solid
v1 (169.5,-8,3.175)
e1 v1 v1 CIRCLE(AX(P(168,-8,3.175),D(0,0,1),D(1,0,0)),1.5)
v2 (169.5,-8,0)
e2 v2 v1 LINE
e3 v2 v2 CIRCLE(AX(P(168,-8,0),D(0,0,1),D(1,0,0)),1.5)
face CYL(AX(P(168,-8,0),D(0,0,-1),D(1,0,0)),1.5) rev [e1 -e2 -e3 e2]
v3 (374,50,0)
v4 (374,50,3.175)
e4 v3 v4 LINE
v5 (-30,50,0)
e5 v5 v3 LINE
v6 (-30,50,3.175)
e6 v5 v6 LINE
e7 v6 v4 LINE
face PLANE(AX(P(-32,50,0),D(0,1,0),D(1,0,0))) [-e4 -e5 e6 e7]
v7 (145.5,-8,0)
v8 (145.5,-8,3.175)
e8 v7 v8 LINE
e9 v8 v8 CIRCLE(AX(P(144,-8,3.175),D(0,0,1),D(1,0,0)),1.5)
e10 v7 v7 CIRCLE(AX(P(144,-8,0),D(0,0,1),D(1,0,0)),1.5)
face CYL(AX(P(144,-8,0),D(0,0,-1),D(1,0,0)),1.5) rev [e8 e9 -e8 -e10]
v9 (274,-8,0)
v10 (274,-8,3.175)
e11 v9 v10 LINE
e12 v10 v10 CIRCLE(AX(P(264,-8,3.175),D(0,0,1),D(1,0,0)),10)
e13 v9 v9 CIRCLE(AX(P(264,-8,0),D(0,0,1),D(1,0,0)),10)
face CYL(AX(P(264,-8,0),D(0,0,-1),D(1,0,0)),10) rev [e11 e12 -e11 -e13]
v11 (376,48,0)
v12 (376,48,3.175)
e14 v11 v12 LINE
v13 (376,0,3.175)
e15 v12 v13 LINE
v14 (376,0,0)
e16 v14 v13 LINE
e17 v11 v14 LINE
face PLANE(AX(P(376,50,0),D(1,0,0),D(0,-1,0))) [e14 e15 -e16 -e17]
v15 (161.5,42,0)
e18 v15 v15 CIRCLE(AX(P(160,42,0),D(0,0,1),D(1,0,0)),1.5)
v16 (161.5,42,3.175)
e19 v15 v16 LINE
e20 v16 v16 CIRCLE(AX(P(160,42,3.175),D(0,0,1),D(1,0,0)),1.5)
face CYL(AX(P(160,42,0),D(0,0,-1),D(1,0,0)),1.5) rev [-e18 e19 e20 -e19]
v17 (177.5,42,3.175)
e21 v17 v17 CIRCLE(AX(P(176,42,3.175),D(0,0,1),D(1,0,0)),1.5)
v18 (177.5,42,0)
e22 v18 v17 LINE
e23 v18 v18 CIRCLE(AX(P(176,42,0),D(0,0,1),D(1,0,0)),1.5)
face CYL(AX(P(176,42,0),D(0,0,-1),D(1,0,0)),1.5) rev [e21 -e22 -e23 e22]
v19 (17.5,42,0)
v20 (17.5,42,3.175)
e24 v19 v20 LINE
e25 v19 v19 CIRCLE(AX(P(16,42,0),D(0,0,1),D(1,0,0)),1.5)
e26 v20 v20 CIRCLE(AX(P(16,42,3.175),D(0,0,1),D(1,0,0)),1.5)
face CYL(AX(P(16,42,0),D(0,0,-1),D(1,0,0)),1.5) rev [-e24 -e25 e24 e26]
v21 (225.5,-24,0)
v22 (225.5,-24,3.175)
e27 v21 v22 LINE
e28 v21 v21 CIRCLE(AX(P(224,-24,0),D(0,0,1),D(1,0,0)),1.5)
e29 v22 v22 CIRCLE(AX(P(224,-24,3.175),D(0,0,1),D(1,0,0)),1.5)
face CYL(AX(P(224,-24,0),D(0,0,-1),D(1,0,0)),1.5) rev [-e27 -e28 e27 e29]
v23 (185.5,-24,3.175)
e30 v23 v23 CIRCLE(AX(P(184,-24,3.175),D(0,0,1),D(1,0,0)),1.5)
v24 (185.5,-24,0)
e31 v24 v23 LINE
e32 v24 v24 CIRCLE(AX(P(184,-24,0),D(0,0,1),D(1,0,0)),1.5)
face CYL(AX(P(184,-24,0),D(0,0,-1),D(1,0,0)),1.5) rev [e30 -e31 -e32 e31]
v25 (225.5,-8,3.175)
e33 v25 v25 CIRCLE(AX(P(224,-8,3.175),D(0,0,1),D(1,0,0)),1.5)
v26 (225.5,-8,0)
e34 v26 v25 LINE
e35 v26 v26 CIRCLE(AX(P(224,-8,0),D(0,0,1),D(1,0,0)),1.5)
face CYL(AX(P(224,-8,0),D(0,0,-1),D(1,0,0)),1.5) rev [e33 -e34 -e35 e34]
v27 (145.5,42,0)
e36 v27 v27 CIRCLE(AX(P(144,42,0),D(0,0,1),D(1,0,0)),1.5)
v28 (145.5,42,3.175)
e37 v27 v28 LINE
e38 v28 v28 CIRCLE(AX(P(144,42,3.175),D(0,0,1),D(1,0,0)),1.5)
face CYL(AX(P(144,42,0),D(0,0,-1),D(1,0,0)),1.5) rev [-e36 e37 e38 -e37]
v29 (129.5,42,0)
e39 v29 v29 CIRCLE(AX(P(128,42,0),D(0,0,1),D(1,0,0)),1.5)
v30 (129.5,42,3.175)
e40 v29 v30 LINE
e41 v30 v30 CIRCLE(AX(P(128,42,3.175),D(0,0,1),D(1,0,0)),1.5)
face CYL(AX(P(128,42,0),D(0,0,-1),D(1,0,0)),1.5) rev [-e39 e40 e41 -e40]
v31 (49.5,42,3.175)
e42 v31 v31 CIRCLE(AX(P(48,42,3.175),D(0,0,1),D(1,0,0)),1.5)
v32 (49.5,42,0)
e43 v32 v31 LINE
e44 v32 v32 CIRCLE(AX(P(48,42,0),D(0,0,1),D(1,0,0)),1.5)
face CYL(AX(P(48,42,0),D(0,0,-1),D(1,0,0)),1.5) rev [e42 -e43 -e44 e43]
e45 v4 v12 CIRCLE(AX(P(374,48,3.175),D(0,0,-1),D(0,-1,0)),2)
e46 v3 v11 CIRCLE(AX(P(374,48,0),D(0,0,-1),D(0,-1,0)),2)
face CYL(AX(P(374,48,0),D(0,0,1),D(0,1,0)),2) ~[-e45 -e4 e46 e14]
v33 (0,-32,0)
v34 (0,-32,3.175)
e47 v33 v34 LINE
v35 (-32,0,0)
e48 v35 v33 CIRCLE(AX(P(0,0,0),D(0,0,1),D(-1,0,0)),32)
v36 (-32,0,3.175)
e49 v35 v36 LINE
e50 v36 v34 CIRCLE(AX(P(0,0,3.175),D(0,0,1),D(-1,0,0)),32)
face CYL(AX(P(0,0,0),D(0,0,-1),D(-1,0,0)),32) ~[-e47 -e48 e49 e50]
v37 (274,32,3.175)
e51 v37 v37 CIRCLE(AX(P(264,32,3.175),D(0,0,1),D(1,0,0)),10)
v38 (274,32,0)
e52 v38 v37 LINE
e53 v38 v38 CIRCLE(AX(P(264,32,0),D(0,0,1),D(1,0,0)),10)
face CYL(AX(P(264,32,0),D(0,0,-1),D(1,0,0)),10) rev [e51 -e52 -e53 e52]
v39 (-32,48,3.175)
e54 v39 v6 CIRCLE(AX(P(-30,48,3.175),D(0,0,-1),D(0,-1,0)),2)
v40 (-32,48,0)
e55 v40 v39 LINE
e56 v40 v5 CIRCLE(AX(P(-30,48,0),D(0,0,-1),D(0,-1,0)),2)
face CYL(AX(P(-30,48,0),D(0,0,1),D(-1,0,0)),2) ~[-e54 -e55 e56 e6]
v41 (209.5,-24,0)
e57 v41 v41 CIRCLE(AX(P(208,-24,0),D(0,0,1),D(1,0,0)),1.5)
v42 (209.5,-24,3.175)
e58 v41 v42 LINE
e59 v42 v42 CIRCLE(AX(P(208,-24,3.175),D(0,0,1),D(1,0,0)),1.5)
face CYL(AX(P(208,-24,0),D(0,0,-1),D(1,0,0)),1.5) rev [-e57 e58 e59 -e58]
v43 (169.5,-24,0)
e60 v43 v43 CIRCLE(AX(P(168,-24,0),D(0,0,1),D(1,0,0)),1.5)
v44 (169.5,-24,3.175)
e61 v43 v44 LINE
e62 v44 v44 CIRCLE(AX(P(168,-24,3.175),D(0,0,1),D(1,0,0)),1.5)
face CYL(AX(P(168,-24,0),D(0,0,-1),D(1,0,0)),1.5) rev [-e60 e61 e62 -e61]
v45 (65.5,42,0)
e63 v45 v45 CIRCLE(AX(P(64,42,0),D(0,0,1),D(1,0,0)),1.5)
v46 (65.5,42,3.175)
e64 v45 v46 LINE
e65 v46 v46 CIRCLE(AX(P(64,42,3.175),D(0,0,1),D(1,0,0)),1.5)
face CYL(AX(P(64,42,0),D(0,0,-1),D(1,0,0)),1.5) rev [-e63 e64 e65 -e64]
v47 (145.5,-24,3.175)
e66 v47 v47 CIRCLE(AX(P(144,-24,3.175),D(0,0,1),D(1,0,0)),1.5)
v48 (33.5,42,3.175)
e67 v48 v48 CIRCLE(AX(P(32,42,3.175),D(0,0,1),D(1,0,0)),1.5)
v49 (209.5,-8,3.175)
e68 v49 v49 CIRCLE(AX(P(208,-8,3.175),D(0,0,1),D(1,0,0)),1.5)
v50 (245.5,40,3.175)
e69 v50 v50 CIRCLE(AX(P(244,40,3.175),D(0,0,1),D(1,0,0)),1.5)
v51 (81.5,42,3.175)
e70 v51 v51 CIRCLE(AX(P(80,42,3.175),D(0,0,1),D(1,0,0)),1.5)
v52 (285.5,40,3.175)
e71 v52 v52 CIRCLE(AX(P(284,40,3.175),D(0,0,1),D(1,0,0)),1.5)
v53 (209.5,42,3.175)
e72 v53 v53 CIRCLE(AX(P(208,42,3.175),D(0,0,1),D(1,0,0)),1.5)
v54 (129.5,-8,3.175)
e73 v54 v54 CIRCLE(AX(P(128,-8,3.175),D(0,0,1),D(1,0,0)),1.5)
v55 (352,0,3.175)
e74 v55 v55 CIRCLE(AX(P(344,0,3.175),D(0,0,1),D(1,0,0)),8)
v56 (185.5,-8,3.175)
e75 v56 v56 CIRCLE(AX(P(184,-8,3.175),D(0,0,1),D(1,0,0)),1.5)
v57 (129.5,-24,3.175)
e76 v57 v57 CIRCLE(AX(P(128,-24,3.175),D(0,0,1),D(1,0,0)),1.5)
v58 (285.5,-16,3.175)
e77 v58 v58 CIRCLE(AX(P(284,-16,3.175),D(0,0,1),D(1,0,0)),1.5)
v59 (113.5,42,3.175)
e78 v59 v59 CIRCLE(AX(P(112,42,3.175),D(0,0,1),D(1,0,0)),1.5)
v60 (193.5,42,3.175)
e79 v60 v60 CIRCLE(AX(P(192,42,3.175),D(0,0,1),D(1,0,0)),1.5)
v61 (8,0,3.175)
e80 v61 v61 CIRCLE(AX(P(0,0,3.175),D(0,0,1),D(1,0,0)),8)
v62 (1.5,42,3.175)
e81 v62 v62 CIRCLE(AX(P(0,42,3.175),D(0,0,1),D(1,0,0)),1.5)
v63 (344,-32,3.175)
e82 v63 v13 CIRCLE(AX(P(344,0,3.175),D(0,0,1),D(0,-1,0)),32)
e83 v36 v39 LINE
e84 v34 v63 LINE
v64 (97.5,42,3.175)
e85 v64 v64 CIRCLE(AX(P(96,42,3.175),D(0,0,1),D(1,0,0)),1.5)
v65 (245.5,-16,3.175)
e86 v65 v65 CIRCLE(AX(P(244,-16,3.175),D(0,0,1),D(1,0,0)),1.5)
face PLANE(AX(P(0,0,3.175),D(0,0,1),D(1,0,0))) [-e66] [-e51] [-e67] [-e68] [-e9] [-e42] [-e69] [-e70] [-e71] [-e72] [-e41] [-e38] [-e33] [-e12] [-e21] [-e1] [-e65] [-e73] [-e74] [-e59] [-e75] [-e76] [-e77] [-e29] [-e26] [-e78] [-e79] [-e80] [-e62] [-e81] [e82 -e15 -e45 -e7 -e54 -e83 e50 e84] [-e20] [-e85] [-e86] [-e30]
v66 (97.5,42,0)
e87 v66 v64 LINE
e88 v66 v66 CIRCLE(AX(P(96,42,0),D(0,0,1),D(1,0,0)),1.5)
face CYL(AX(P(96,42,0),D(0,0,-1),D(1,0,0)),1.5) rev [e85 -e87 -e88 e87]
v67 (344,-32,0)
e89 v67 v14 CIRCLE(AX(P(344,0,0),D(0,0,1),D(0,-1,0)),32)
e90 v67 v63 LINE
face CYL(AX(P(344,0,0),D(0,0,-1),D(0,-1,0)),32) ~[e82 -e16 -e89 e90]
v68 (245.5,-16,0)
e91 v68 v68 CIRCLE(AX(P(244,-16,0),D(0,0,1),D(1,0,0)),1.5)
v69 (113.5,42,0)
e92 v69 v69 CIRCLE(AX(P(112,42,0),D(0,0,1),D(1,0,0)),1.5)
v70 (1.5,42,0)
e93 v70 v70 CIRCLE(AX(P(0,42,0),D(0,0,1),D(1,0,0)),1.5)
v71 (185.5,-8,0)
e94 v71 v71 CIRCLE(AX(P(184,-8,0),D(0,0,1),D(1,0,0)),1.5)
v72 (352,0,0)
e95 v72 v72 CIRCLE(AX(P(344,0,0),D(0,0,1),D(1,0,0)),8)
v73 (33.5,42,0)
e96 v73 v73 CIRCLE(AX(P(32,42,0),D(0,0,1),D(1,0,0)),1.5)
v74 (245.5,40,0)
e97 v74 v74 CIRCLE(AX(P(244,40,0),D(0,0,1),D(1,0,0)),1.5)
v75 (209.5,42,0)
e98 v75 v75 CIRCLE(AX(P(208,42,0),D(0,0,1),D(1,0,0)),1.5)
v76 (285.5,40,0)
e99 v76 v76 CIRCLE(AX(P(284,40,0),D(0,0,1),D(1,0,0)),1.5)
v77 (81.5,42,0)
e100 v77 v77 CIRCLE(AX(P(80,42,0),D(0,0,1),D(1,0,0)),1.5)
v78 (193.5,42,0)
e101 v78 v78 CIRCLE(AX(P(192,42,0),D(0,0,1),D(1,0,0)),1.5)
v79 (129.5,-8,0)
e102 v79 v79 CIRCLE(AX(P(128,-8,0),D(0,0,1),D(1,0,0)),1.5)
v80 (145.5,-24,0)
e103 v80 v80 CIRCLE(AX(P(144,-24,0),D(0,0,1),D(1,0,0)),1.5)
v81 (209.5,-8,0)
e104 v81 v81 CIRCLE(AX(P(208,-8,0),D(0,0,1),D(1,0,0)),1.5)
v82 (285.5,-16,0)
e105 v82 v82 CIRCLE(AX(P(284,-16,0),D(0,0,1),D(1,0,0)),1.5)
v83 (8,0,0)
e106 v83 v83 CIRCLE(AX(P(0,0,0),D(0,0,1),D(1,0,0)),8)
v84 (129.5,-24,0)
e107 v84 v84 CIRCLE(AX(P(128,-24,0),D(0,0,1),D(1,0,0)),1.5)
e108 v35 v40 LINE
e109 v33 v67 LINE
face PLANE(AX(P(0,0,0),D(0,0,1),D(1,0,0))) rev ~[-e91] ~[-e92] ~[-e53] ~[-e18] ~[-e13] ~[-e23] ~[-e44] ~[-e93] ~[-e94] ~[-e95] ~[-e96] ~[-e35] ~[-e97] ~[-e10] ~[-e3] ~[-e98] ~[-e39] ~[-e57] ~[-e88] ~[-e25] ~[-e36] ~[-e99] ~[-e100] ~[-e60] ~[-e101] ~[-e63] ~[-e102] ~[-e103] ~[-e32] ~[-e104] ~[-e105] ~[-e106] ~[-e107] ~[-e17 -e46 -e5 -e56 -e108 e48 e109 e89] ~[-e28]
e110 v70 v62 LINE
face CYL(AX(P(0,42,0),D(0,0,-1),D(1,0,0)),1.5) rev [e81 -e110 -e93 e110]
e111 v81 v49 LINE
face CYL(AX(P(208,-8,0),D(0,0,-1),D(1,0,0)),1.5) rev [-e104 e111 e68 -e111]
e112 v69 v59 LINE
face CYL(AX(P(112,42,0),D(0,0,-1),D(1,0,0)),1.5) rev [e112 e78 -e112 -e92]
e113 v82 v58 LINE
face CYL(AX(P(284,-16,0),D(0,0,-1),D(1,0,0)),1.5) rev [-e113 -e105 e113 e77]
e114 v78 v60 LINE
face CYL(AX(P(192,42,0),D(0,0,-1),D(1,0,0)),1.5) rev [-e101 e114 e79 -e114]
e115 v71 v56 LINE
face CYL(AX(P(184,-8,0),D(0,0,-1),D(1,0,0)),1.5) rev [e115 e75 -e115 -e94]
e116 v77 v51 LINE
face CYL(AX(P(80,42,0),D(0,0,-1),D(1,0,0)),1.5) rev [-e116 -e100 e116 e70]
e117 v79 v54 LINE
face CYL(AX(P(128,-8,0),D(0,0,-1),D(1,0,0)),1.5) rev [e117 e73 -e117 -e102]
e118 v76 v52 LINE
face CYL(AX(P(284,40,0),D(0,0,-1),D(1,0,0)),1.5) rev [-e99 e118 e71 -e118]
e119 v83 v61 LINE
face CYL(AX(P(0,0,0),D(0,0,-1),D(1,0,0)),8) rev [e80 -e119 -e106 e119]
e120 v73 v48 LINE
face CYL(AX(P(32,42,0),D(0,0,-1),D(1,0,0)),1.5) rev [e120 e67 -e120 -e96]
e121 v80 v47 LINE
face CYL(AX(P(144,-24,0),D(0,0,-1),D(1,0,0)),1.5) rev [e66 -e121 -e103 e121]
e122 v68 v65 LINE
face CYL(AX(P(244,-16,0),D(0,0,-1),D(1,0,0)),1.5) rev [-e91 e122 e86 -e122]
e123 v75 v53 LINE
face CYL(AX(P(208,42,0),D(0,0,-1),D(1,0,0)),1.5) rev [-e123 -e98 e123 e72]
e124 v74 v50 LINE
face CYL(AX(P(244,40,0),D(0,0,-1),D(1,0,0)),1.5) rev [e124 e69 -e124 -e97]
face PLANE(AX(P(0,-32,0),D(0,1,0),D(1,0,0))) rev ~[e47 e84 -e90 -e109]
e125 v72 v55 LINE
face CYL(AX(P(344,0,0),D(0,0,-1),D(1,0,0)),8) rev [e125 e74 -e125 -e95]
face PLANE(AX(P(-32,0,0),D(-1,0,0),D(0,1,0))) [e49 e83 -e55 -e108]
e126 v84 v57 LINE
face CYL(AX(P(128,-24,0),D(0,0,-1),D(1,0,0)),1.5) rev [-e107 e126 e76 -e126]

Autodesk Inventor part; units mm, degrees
ref_plane "YZ Plane" through (0, 0, 0) normal (1, 0, 0) x (0, 1, 0)
ref_plane "XZ Plane" through (0, 0, 0) normal (0, 1, 0) x (-1, 0, 0)
ref_plane "XY Plane" through (0, 0, 0) normal (0, 0, 1) x (1, 0, 0)
sketch "Sketch2" plane through (0, 0, 0) normal (0, 0, 1) x (1, 0, 0)
  circle A0 centre (0, 0) radius 50 construction
  circle A1 centre (344, 0) radius 50 construction
  circle A2 centre (264, -8) radius 16 construction
  circle A3 centre (264, 32) radius 16 construction
  circle A4 centre (344, 0) radius 18.8 construction
  circle A5 centre (264, -8) radius 10 construction
  line L0 (261.9218, 1.7817) -> (340.093, 18.3896) construction
  line L1 (263.8999, -17.9995) -> (343.8119, -18.7991) construction
  circle A6 centre (264, 32) radius 10 construction
  circle A7 centre (0, 0) radius 18.8 construction
  line L2 (-1.6434, 18.728) -> (263.1259, 41.9617) construction
  line L3 (2.8786, -18.5783) -> (265.5312, 22.1179) construction
  arc A8 (-32, 0) -> (0, -32) centre (0, 0) ccw
  line L4 (0, -32) -> (344, -32)
  arc A9 (344, -32) -> (376, 0) centre (344, 0) ccw
  line L5 (-32, 0) -> (-32, 50)
  line L6 (-32, 50) -> (376, 50)
  line L7 (376, 50) -> (376, 0)
  circle A10 centre (264, 32) radius 3
  circle A11 centre (264, -8) radius 3
  circle A12 centre (0, 0) radius 8
  circle A13 centre (344, 0) radius 8
  circle A14 centre (264, 32) radius 10
  circle A15 centre (264, -8) radius 10
  circle A16 centre (284, 40) radius 1.5
  circle A17 centre (244, 40) radius 1.5
  circle A18 centre (244, -16) radius 1.5
  circle A19 centre (284, -16) radius 1.5
  circle A20 centre (0, 42) radius 1.5
  circle A21 centre (16, 42) radius 1.5
  circle A22 centre (32, 42) radius 1.5
  circle A23 centre (48, 42) radius 1.5
  circle A24 centre (64, 42) radius 1.5
  circle A25 centre (80, 42) radius 1.5
  circle A26 centre (96, 42) radius 1.5
  circle A27 centre (112, 42) radius 1.5
  circle A28 centre (128, 42) radius 1.5
  circle A29 centre (144, 42) radius 1.5
  circle A30 centre (160, 42) radius 1.5
  circle A31 centre (176, 42) radius 1.5
  circle A32 centre (192, 42) radius 1.5
  circle A33 centre (208, 42) radius 1.5
  circle A34 centre (128, -8) radius 1.5
  circle A35 centre (144, -8) radius 1.5
  circle A36 centre (128, -24) radius 1.5
  circle A37 centre (144, -24) radius 1.5
  circle A38 centre (184, -8) radius 1.5
  circle A39 centre (184, -24) radius 1.5
  circle A40 centre (168, -24) radius 1.5
  circle A41 centre (168, -8) radius 1.5
  circle A42 centre (224, -8) radius 1.5
  circle A43 centre (224, -24) radius 1.5
  circle A44 centre (208, -24) radius 1.5
  circle A45 centre (208, -8) radius 1.5
  dimension "d16" = 100
  dimension "d17" = 100
  dimension "d18" = 32
  dimension "d19" = 32
  dimension "d20" = 20
  dimension "d21" = 20
  dimension "d22" = 37.6
  dimension "d23" = 37.6
  dimension "d25" = 344
  dimension "d26" = 80
  dimension "d27" = 8
  dimension "d28" = 40
  dimension "d29" = 32
  dimension "d30" = 32
  dimension "d31" = 32
  dimension "d32" = 50
  dimension "d33" = 6
  dimension "d34" = 6
  dimension "d35" = 16
  dimension "d36" = 16
  dimension "d37" = 40
  dimension "d38" = 40
  dimension "d39" = 20
  dimension "d40" = 8
  dimension "d41" = 8
  dimension "d42" = 3
  dimension "d43" = 3
  dimension "d44" = 3
  dimension "d45" = 3
  dimension "d48" = 3
  dimension "d49" = 0
  dimension "d50" = 8
  dimension "d53" = 16
  dimension "d59" = 3
  dimension "d60" = 3
  dimension "d61" = 3
  dimension "d62" = 3
  dimension "d63" = 16
  dimension "d64" = 16
  dimension "d65" = 8
  dimension "d66" = 128
  dimension "d69" = 40
extrude "Extrusion1" add sketch "Sketch2" along normal blind 3.175 contours L5 L6 L7 A9 L4 A8
fillet "Fillet1" radius 2 2 edges at (376, 50, 1.5875) (-32, 50, 1.5875)
sketch "Sketch7" plane through (0, 0, 3.175) normal (0, 0, 1) x (1, 0, 0)
  line L0 (374.4783, -9.6992) -> (375.5585, -5.1986)
  line L1 (375.5585, -5.1986) -> (375.6195, -4.8119)
  line L2 (375.6195, -4.8119) -> (375.9901, -0.0994)
  line L3 (375.9901, -0.0994) -> (376.0017, 0.0868)
  line L4 (376.0017, 0.0868) -> (376.0021, 47.8882)
  line L5 (376.0021, 47.8882) -> (375.9918, 48.0939)
  line L6 (375.9918, 48.0939) -> (375.9908, 48.1129)
  line L7 (375.9908, 48.1129) -> (375.9357, 48.4607)
  line L8 (375.9357, 48.4607) -> (375.8388, 48.7576)
  line L9 (375.8388, 48.7576) -> (375.6969, 49.0362)
  line L10 (375.6969, 49.0362) -> (375.514, 49.289)
  line L11 (375.514, 49.289) -> (375.2931, 49.5098)
  line L12 (375.2931, 49.5098) -> (375.0401, 49.6936)
  line L13 (375.0401, 49.6936) -> (374.7621, 49.8354)
  line L14 (374.7621, 49.8354) -> (374.4651, 49.9319)
  line L15 (374.4651, 49.9319) -> (374.1172, 49.987)
  line L16 (374.1172, 49.987) -> (374.0982, 49.9885)
  line L17 (374.0982, 49.9885) -> (373.9022, 49.9962)
  line L18 (373.9022, 49.9962) -> (-29.9016, 49.9999)
  line L19 (-29.9016, 49.9999) -> (-30.0978, 49.9922)
  line L20 (-30.0978, 49.9922) -> (-30.1168, 49.9907)
  line L21 (-30.1168, 49.9907) -> (-30.4647, 49.9356)
  line L22 (-30.4647, 49.9356) -> (-30.7616, 49.8392)
  line L23 (-30.7616, 49.8392) -> (-31.0401, 49.6974)
  line L24 (-31.0401, 49.6974) -> (-31.2929, 49.5138)
  line L25 (-31.2929, 49.5138) -> (-31.5136, 49.293)
  line L26 (-31.5136, 49.293) -> (-31.6972, 49.0402)
  line L27 (-31.6972, 49.0402) -> (-31.839, 48.7617)
  line L28 (-31.839, 48.7617) -> (-31.9355, 48.4648)
  line L29 (-31.9355, 48.4648) -> (-31.9906, 48.117)
  line L30 (-31.9906, 48.117) -> (-31.9921, 48.098)
  line L31 (-31.9921, 48.098) -> (-31.9998, 47.9018)
  line L32 (-31.9998, 47.9018) -> (-32.0002, 0.098)
  line L33 (-32.0002, 0.098) -> (-31.9925, -0.0977)
  line L34 (-31.9925, -0.0977) -> (-31.6216, -4.8101)
  line L35 (-31.6216, -4.8101) -> (-31.5604, -5.1969)
  line L36 (-31.5604, -5.1969) -> (-30.4798, -9.6975)
  line L37 (-30.4798, -9.6975) -> (-30.3588, -10.07)
  line L38 (-30.3588, -10.07) -> (-28.5887, -14.3466)
  line L39 (-28.5887, -14.3466) -> (-28.4108, -14.6956)
  line L40 (-28.4108, -14.6956) -> (-25.9924, -18.642)
  line L41 (-25.9924, -18.642) -> (-25.7621, -18.9589)
  line L42 (-25.7621, -18.9589) -> (-22.7562, -22.4784)
  line L43 (-22.7562, -22.4784) -> (-22.4791, -22.7554)
  line L44 (-22.4791, -22.7554) -> (-18.9589, -25.7604)
  line L45 (-18.9589, -25.7604) -> (-18.642, -25.9907)
  line L46 (-18.642, -25.9907) -> (-14.6957, -28.4092)
  line L47 (-14.6957, -28.4092) -> (-14.3467, -28.587)
  line L48 (-14.3467, -28.587) -> (-10.0704, -30.3582)
  line L49 (-10.0704, -30.3582) -> (-9.698, -30.4792)
  line L50 (-9.698, -30.4792) -> (-5.1972, -31.5594)
  line L51 (-5.1972, -31.5594) -> (-4.8105, -31.6206)
  line L52 (-4.8105, -31.6206) -> (-0.098, -31.9913)
  line L53 (-0.098, -31.9913) -> (0.0977, -31.9989)
  line L54 (0.0977, -31.9989) -> (343.9017, -32.0021)
  line L55 (343.9017, -32.0021) -> (344.0977, -31.9944)
  line L56 (344.0977, -31.9944) -> (348.8097, -31.6235)
  line L57 (348.8097, -31.6235) -> (349.1967, -31.5622)
  line L58 (349.1967, -31.5622) -> (353.6976, -30.4816)
  line L59 (353.6976, -30.4816) -> (354.0696, -30.3606)
  line L60 (354.0696, -30.3606) -> (358.3461, -28.5905)
  line L61 (358.3461, -28.5905) -> (358.6951, -28.4127)
  line L62 (358.6951, -28.4127) -> (362.6419, -25.9939)
  line L63 (362.6419, -25.9939) -> (362.9589, -25.7636)
  line L64 (362.9589, -25.7636) -> (366.4781, -22.758)
  line L65 (366.4781, -22.758) -> (366.755, -22.4809)
  line L66 (366.755, -22.4809) -> (369.7602, -18.9606)
  line L67 (369.7602, -18.9606) -> (369.9901, -18.6437)
  line L68 (369.9901, -18.6437) -> (372.4087, -14.6971)
  line L69 (372.4087, -14.6971) -> (372.5857, -14.3481)
  line L70 (372.5857, -14.3481) -> (374.3573, -10.0717)
  line L71 (374.3573, -10.0717) -> (374.4783, -9.6992)
  line L72 (353.5083, 8.3734) -> (350.2762, 10.7218)
  line L73 (350.2762, 10.7218) -> (348.4596, 13.2222)
  line L74 (348.4596, 13.2222) -> (348.2149, 14.7673)
  line L75 (348.2149, 14.7673) -> (348.2151, 40)
  line L76 (348.2151, 40) -> (349.1701, 42.9389)
  line L77 (349.1701, 42.9389) -> (353.2152, 44.9998)
  line L78 (353.2152, 44.9998) -> (366.0002, 44.9997)
  line L79 (366.0002, 44.9997) -> (368.9391, 44.0447)
  line L80 (368.9391, 44.0447) -> (370.9989, 40.0018)
  line L81 (370.9989, 40.0018) -> (370.9987, 15.8213)
  line L82 (370.9987, 15.8213) -> (370.0438, 12.8824)
  line L83 (370.0438, 12.8824) -> (367.6762, 11.1097)
  line L84 (367.6762, 11.1097) -> (358.1243, 7.7084)
  line L85 (358.1243, 7.7084) -> (355.0353, 7.6221)
  line L86 (355.0353, 7.6221) -> (353.5083, 8.3734)
  line L87 (-2.3107, 12.3636) -> (-5.2496, 13.3185)
  line L88 (-5.2496, 13.3185) -> (-6.5079, 14.6465)
  line L89 (-6.5079, 14.6465) -> (-21.1616, 37.2829)
  line L90 (-21.1616, 37.2829) -> (-21.9571, 40.2689)
  line L91 (-21.9571, 40.2689) -> (-20.8455, 43.1522)
  line L92 (-20.8455, 43.1522) -> (-16.9643, 44.9999)
  line L93 (-16.9643, 44.9999) -> (-11.1074, 44.9999)
  line L94 (-11.1074, 44.9999) -> (-8.1685, 44.0449)
  line L95 (-8.1685, 44.0449) -> (-6.3521, 41.5449)
  line L96 (-6.3521, 41.5449) -> (-5.5034, 38.9323)
  line L97 (-5.5034, 38.9323) -> (-4.618, 37.7137)
  line L98 (-4.618, 37.7137) -> (-2.6494, 36.2833)
  line L99 (-2.6494, 36.2833) -> (-1.2168, 35.8178)
  line L100 (-1.2168, 35.8178) -> (1.2166, 35.8178)
  line L101 (1.2166, 35.8178) -> (2.6492, 36.2832)
  line L102 (2.6492, 36.2832) -> (5.061, 38.0355)
  line L103 (5.061, 38.0355) -> (8, 38.9903)
  line L104 (8, 38.9903) -> (10.9389, 38.0353)
  line L105 (10.9389, 38.0353) -> (13.3507, 36.2829)
  line L106 (13.3507, 36.2829) -> (15.5364, 35.5727)
  line L107 (15.5364, 35.5727) -> (15.5209, 35.5249)
  line L108 (15.5209, 35.5249) -> (17.558, 34.863)
  line L109 (17.558, 34.863) -> (19.3743, 32.363)
  line L110 (19.3743, 32.363) -> (19.3743, 29.2728)
  line L111 (19.3743, 29.2728) -> (18.5549, 27.7343)
  line L112 (18.5549, 27.7343) -> (8.0015, 14.2642)
  line L113 (8.0015, 14.2642) -> (5.4373, 12.5397)
  line L114 (5.4373, 12.5397) -> (4.0171, 12.5655)
  line L115 (4.0171, 12.5655) -> (4.0171, 12.3635)
  line L116 (4.0171, 12.3635) -> (-2.3107, 12.3636)
  line L117 (331.309, 10.0791) -> (331.29, 10.0442)
  line L118 (331.29, 10.0442) -> (331.108, 10.1445)
  line L119 (331.108, 10.1445) -> (331.068, 10.1573)
  line L120 (331.068, 10.1573) -> (331.017, 10.1946)
  line L121 (331.017, 10.1946) -> (330.476, 10.493)
  line L122 (330.476, 10.493) -> (289.462, 26.8484)
  line L123 (289.462, 26.8484) -> (287.086, 28.824)
  line L124 (287.086, 28.824) -> (286.325, 31.819)
  line L125 (286.325, 31.819) -> (288.376, 35.5378)
  line L126 (288.376, 35.5378) -> (288.618, 35.7139)
  line L127 (288.618, 35.7139) -> (289.5033, 36.9323)
  line L128 (289.5033, 36.9323) -> (290.2553, 39.2466)
  line L129 (290.2553, 39.2466) -> (290.2553, 39.9998)
  line L130 (290.2553, 39.9998) -> (291.2102, 42.9387)
  line L131 (291.2102, 42.9387) -> (295.2553, 44.9996)
  line L132 (295.2553, 44.9996) -> (338.2153, 44.9992)
  line L133 (338.2153, 44.9992) -> (341.1543, 44.0442)
  line L134 (341.1543, 44.0442) -> (343.2152, 39.9991)
  line L135 (343.2152, 39.9991) -> (343.215, 16.7886)
  line L136 (343.215, 16.7886) -> (342.2612, 13.8504)
  line L137 (342.2612, 13.8504) -> (339.7612, 12.034)
  line L138 (339.7612, 12.034) -> (339.3422, 11.8981)
  line L139 (339.3422, 11.8981) -> (336.9461, 10.1573)
  line L140 (336.9461, 10.1573) -> (334.007, 9.2025)
  line L141 (334.007, 9.2025) -> (331.309, 10.0791)
  line L142 (247.7696, 2.7223) -> (214.4517, 32.6032)
  line L143 (214.4517, 32.6032) -> (212.901, 35.2763)
  line L144 (212.901, 35.2763) -> (213.499, 38.1013)
  line L145 (213.499, 38.1013) -> (213.259, 38.1794)
  line L146 (213.259, 38.1794) -> (214.3526, 41.5449)
  line L147 (214.3526, 41.5449) -> (216.1692, 44.0452)
  line L148 (216.1692, 44.0452) -> (219.1073, 44.9997)
  line L149 (219.1073, 44.9997) -> (232.7453, 44.9995)
  line L150 (232.7453, 44.9995) -> (235.6843, 44.0446)
  line L151 (235.6843, 44.0446) -> (237.7453, 39.9994)
  line L152 (237.7453, 39.9994) -> (237.7452, 39.2463)
  line L153 (237.7452, 39.2463) -> (238.4971, 36.9319)
  line L154 (238.4971, 36.9319) -> (239.3824, 35.7135)
  line L155 (239.3824, 35.7135) -> (241.3512, 34.2829)
  line L156 (241.3512, 34.2829) -> (242.7832, 33.8176)
  line L157 (242.7832, 33.8176) -> (244.7772, 33.8176)
  line L158 (244.7772, 33.8176) -> (247.7153, 32.8629)
  line L159 (247.7153, 32.8629) -> (249.5319, 30.3626)
  line L160 (249.5319, 30.3626) -> (251.6197, 23.9358)
  line L161 (251.6197, 23.9358) -> (252.505, 22.7173)
  line L162 (252.505, 22.7173) -> (259.3646, 17.7331)
  line L163 (259.3646, 17.7331) -> (259.3596, 17.7292)
  line L164 (259.3596, 17.7292) -> (261.2138, 16.3819)
  line L165 (261.2138, 16.3819) -> (262.1688, 13.4423)
  line L166 (262.1688, 13.4423) -> (262.1688, 10.5493)
  line L167 (262.1688, 10.5493) -> (261.2138, 7.6103)
  line L168 (261.2138, 7.6103) -> (259.3599, 6.2634)
  line L169 (259.3599, 6.2634) -> (259.3602, 6.2608)
  line L170 (259.3602, 6.2608) -> (254.0454, 2.3993)
  line L171 (254.0454, 2.3993) -> (251.1064, 1.4445)
  line L172 (251.1064, 1.4445) -> (247.7696, 2.7223)
  line L173 (17.8113, 12.6027) -> (16.7825, 15.5166)
  line L174 (16.7825, 15.5166) -> (17.845, 18.7263)
  line L175 (17.845, 18.7263) -> (29.7343, 33.9016)
  line L176 (29.7343, 33.9016) -> (32.5598, 35.2774)
  line L177 (32.5598, 35.2774) -> (32.4631, 35.5753)
  line L178 (32.4631, 35.5753) -> (34.6488, 36.2854)
  line L179 (34.6488, 36.2854) -> (37.0606, 38.0376)
  line L180 (37.0606, 38.0376) -> (39.9995, 38.9924)
  line L181 (39.9995, 38.9924) -> (42.9384, 38.0375)
  line L182 (42.9384, 38.0375) -> (45.3502, 36.2851)
  line L183 (45.3502, 36.2851) -> (46.7827, 35.8196)
  line L184 (46.7827, 35.8196) -> (49.2161, 35.8196)
  line L185 (49.2161, 35.8196) -> (50.6488, 36.285)
  line L186 (50.6488, 36.285) -> (53.0606, 38.0373)
  line L187 (53.0606, 38.0373) -> (55.9995, 38.992)
  line L188 (55.9995, 38.992) -> (58.9384, 38.0371)
  line L189 (58.9384, 38.0371) -> (61.3502, 36.2847)
  line L190 (61.3502, 36.2847) -> (62.7827, 35.8192)
  line L191 (62.7827, 35.8192) -> (64.7633, 35.8192)
  line L192 (64.7633, 35.8192) -> (66.1505, 35.3685)
  line L193 (66.1505, 35.3685) -> (66.227, 35.6258)
  line L194 (66.227, 35.6258) -> (67.406, 36.8349)
  line L195 (67.406, 36.8349) -> (69.0605, 38.037)
  line L196 (69.0605, 38.037) -> (71.9995, 38.9917)
  line L197 (71.9995, 38.9917) -> (74.9384, 38.0368)
  line L198 (74.9384, 38.0368) -> (75.5107, 37.6209)
  line L199 (75.5107, 37.6209) -> (77.3273, 35.1206)
  line L200 (77.3273, 35.1206) -> (77.3273, 32.0304)
  line L201 (77.3273, 32.0304) -> (74.2367, 28.8607)
  line L202 (74.2367, 28.8607) -> (72.0099, 28.0745)
  line L203 (72.0099, 28.0745) -> (68.9207, 27.9965)
  line L204 (68.9207, 27.9965) -> (68.5337, 28.263)
  line L205 (68.5337, 28.263) -> (66.4283, 26.1038)
  line L206 (66.4283, 26.1038) -> (23.4455, 10.928)
  line L207 (23.4455, 10.928) -> (20.3563, 10.85)
  line L208 (20.3563, 10.85) -> (17.8113, 12.6027)
  line L209 (155.2548, -13.6224) -> (152.3158, -12.6675)
  line L210 (152.3158, -12.6675) -> (150.2549, -8.6224)
  line L211 (150.2549, -8.6224) -> (150.255, -7.2468)
  line L212 (150.255, -7.2468) -> (149.5031, -4.9325)
  line L213 (149.5031, -4.9325) -> (148.6179, -3.7141)
  line L214 (148.6179, -3.7141) -> (146.649, -2.2835)
  line L215 (146.649, -2.2835) -> (145.592, -1.9401)
  line L216 (145.592, -1.9401) -> (142.543, 0.8412)
  line L217 (142.543, 0.8412) -> (129.684, 30.7658)
  line L218 (129.684, 30.7658) -> (129.401, 33.843)
  line L219 (129.401, 33.843) -> (131.339, 36.7849)
  line L220 (131.339, 36.7849) -> (133.0609, 38.036)
  line L221 (133.0609, 38.036) -> (136, 38.9908)
  line L222 (136, 38.9908) -> (138.939, 38.0358)
  line L223 (138.939, 38.0358) -> (141.3509, 36.2833)
  line L224 (141.3509, 36.2833) -> (142.7829, 35.818)
  line L225 (142.7829, 35.818) -> (145.2169, 35.818)
  line L226 (145.2169, 35.818) -> (146.649, 36.2832)
  line L227 (146.649, 36.2832) -> (149.0609, 38.0356)
  line L228 (149.0609, 38.0356) -> (152, 38.9904)
  line L229 (152, 38.9904) -> (154.939, 38.0354)
  line L230 (154.939, 38.0354) -> (157.3508, 36.283)
  line L231 (157.3508, 36.283) -> (158.7829, 35.8177)
  line L232 (158.7829, 35.8177) -> (161.2169, 35.8176)
  line L233 (161.2169, 35.8176) -> (162.649, 36.2829)
  line L234 (162.649, 36.2829) -> (165.0609, 38.0352)
  line L235 (165.0609, 38.0352) -> (168, 38.99)
  line L236 (168, 38.99) -> (170.939, 38.0351)
  line L237 (170.939, 38.0351) -> (173.3508, 36.2826)
  line L238 (173.3508, 36.2826) -> (174.7829, 35.8173)
  line L239 (174.7829, 35.8173) -> (177.2169, 35.8173)
  line L240 (177.2169, 35.8173) -> (178.649, 36.2825)
  line L241 (178.649, 36.2825) -> (181.0609, 38.0349)
  line L242 (181.0609, 38.0349) -> (184, 38.9897)
  line L243 (184, 38.9897) -> (186.9389, 38.0347)
  line L244 (186.9389, 38.0347) -> (188.324, 37.0283)
  line L245 (188.324, 37.0283) -> (190.1406, 34.528)
  line L246 (190.1406, 34.528) -> (190.1406, 31.4378)
  line L247 (190.1406, 31.4378) -> (189.2972, 29.861)
  line L248 (189.2972, 29.861) -> (164.7591, -0.8634)
  line L249 (164.7591, -0.8634) -> (164.338, -1.6443)
  line L250 (164.338, -1.6443) -> (164.1399, -2.2549)
  line L251 (164.1399, -2.2549) -> (163.4297, -3.6487)
  line L252 (163.4297, -3.6487) -> (162.4968, -4.9327)
  line L253 (162.4968, -4.9327) -> (161.7448, -7.247)
  line L254 (161.7448, -7.247) -> (161.7448, -8.6225)
  line L255 (161.7448, -8.6225) -> (160.7899, -11.5614)
  line L256 (160.7899, -11.5614) -> (158.2898, -13.3777)
  line L257 (158.2898, -13.3777) -> (156.7448, -13.6224)
  line L258 (156.7448, -13.6224) -> (155.2548, -13.6224)
  line L259 (34.6019, -0.5648) -> (31.7567, 0.6412)
  line L260 (31.7567, 0.6412) -> (30.1637, 3.2891)
  line L261 (30.1637, 3.2891) -> (30.4315, 6.3677)
  line L262 (30.4315, 6.3677) -> (33.3706, 9.131)
  line L263 (33.3706, 9.131) -> (104.1632, 34.1255)
  line L264 (104.1632, 34.1255) -> (104.7972, 34.4586)
  line L265 (104.7972, 34.4586) -> (105.7552, 35.1541)
  line L266 (105.7552, 35.1541) -> (105.8754, 34.9886)
  line L267 (105.8754, 34.9886) -> (107.2256, 35.9695)
  line L268 (107.2256, 35.9695) -> (110.3166, 35.9695)
  line L269 (110.3166, 35.9695) -> (110.7836, 35.8175)
  line L270 (110.7836, 35.8175) -> (113.2176, 35.8175)
  line L271 (113.2176, 35.8175) -> (114.6497, 36.2828)
  line L272 (114.6497, 36.2828) -> (116.3065, 37.4865)
  line L273 (116.3065, 37.4865) -> (119.2455, 38.4413)
  line L274 (119.2455, 38.4413) -> (122.1845, 37.4863)
  line L275 (122.1845, 37.4863) -> (124.2454, 33.4412)
  line L276 (124.2454, 33.4412) -> (124.2454, 31.2461)
  line L277 (124.2454, 31.2461) -> (124.4423, 30.6389)
  line L278 (124.4423, 30.6389) -> (124.5233, 30.4242)
  line L279 (124.5233, 30.4242) -> (135.5081, 4.8609)
  line L280 (135.5081, 4.8609) -> (135.7911, 1.7846)
  line L281 (135.7911, 1.7846) -> (134.2113, -0.8714)
  line L282 (134.2113, -0.8714) -> (131.3723, -2.0914)
  line L283 (131.3723, -2.0914) -> (129.3693, -1.8677)
  line L284 (129.3693, -1.8677) -> (129.2173, -1.8183)
  line L285 (129.2173, -1.8183) -> (126.7833, -1.8182)
  line L286 (126.7833, -1.8182) -> (125.3513, -2.2835)
  line L287 (125.3513, -2.2835) -> (123.3824, -3.7139)
  line L288 (123.3824, -3.7139) -> (122.0295, -5.5759)
  line L289 (122.0295, -5.5759) -> (121.8738, -5.4628)
  line L290 (121.8738, -5.4628) -> (120.8734, -6.8396)
  line L291 (120.8734, -6.8396) -> (117.5014, -7.7756)
  line L292 (117.5014, -7.7756) -> (34.6019, -0.5648)
  line L293 (228.6909, -19.8299) -> (228.1429, -19.0767)
  line L294 (228.1429, -19.0767) -> (228.2839, -18.9744)
  line L295 (228.2839, -18.9744) -> (227.248, -17.5486)
  line L296 (227.248, -17.5486) -> (227.2481, -14.4584)
  line L297 (227.2481, -14.4584) -> (228.2841, -13.0325)
  line L298 (228.2841, -13.0325) -> (228.1431, -12.9302)
  line L299 (228.1431, -12.9302) -> (228.6912, -12.1771)
  line L300 (228.6912, -12.1771) -> (230.8133, -10.6353)
  line L301 (230.8133, -10.6353) -> (230.2466, -8.891)
  line L302 (230.2466, -8.891) -> (230.2467, -7.2504)
  line L303 (230.2467, -7.2504) -> (229.4948, -4.936)
  line L304 (229.4948, -4.936) -> (228.6096, -3.7176)
  line L305 (228.6096, -3.7176) -> (226.6407, -2.2871)
  line L306 (226.6407, -2.2871) -> (225.2087, -1.8217)
  line L307 (225.2087, -1.8217) -> (222.7747, -1.8217)
  line L308 (222.7747, -1.8217) -> (221.3426, -2.2869)
  line L309 (221.3426, -2.2869) -> (218.9307, -4.0393)
  line L310 (218.9307, -4.0393) -> (215.9916, -4.9941)
  line L311 (215.9916, -4.9941) -> (213.0526, -4.0391)
  line L312 (213.0526, -4.0391) -> (210.6408, -2.2867)
  line L313 (210.6408, -2.2867) -> (209.2087, -1.8214)
  line L314 (209.2087, -1.8214) -> (206.7747, -1.8214)
  line L315 (206.7747, -1.8214) -> (205.3426, -2.2866)
  line L316 (205.3426, -2.2866) -> (203.3738, -3.7171)
  line L317 (203.3738, -3.7171) -> (202.4885, -4.9355)
  line L318 (202.4885, -4.9355) -> (201.7365, -7.2498)
  line L319 (201.7365, -7.2498) -> (201.7365, -8.6253)
  line L320 (201.7365, -8.6253) -> (200.7815, -11.5642)
  line L321 (200.7815, -11.5642) -> (198.2815, -13.3805)
  line L322 (198.2815, -13.3805) -> (196.7365, -13.6252)
  line L323 (196.7365, -13.6252) -> (195.2465, -13.6252)
  line L324 (195.2465, -13.6252) -> (192.3075, -12.6703)
  line L325 (192.3075, -12.6703) -> (190.2466, -8.6252)
  line L326 (190.2466, -8.6252) -> (190.2466, -7.2496)
  line L327 (190.2466, -7.2496) -> (189.4948, -4.9353)
  line L328 (189.4948, -4.9353) -> (188.6095, -3.7169)
  line L329 (188.6095, -3.7169) -> (186.6407, -2.2863)
  line L330 (186.6407, -2.2863) -> (185.2087, -1.821)
  line L331 (185.2087, -1.821) -> (182.7747, -1.821)
  line L332 (182.7747, -1.821) -> (181.8897, -2.1085)
  line L333 (181.8897, -2.1085) -> (178.7997, -2.1085)
  line L334 (178.7997, -2.1085) -> (176.2997, -0.292)
  line L335 (176.2997, -0.292) -> (175.3449, 2.647)
  line L336 (175.3449, 2.647) -> (176.4382, 5.7666)
  line L337 (176.4382, 5.7666) -> (198.4957, 33.3851)
  line L338 (198.4957, 33.3851) -> (201.0759, 35.0857)
  line L339 (201.0759, 35.0857) -> (204.1629, 34.9448)
  line L340 (204.1629, 34.9448) -> (205.9007, 33.5484)
  line L341 (205.9007, 33.5484) -> (205.9727, 33.6296)
  line L342 (205.9727, 33.6296) -> (244.8683, -1.2536)
  line L343 (244.8683, -1.2536) -> (246.419, -3.9267)
  line L344 (246.419, -3.9267) -> (246.1032, -6.9928)
  line L345 (246.1032, -6.9928) -> (243.0761, -9.7238)
  line L346 (243.0761, -9.7238) -> (241.342, -10.2871)
  line L347 (241.342, -10.2871) -> (239.3732, -11.7176)
  line L348 (239.3732, -11.7176) -> (239.2912, -11.8301)
  line L349 (239.2912, -11.8301) -> (237.1691, -13.3719)
  line L350 (237.1691, -13.3719) -> (237.7357, -15.1162)
  line L351 (237.7357, -15.1162) -> (237.7357, -16.8911)
  line L352 (237.7357, -16.8911) -> (236.7808, -19.83)
  line L353 (236.7808, -19.83) -> (234.2808, -21.6464)
  line L354 (234.2808, -21.6464) -> (231.1908, -21.6464)
  line L355 (231.1908, -21.6464) -> (228.6909, -19.8299)
  line L356 (-23.26, -11.7395) -> (-25.216, -9.4204)
  line L357 (-25.216, -9.4204) -> (-25.5133, -8.7021)
  line L358 (-25.5133, -8.7021) -> (-25.7557, -7.956)
  line L359 (-25.7557, -7.956) -> (-26.5605, -4.604)
  line L360 (-26.5605, -4.604) -> (-26.6832, -3.8291)
  line L361 (-26.6832, -3.8291) -> (-26.9847, 0.0007)
  line L362 (-26.9847, 0.0007) -> (-27.0001, 0.393)
  line L363 (-27.0001, 0.393) -> (-26.9999, 20.1896)
  line L364 (-26.9999, 20.1896) -> (-26.045, 23.1285)
  line L365 (-26.045, 23.1285) -> (-23.545, 24.9449)
  line L366 (-23.545, 24.9449) -> (-20.4548, 24.9448)
  line L367 (-20.4548, 24.9448) -> (-17.8026, 22.9066)
  line L368 (-17.8026, 22.9066) -> (-10.866, 12.1912)
  line L369 (-10.866, 12.1912) -> (-10.0705, 9.2052)
  line L370 (-10.0705, 9.2052) -> (-10.6145, 7.6727)
  line L371 (-10.6145, 7.6727) -> (-10.5154, 7.6404)
  line L372 (-10.5154, 7.6404) -> (-12.7544, 0.7496)
  line L373 (-12.7544, 0.7496) -> (-12.7544, -0.7567)
  line L374 (-12.7544, -0.7567) -> (-12.0806, -2.8307)
  line L375 (-12.0806, -2.8307) -> (-12.0807, -5.9209)
  line L376 (-12.0807, -5.9209) -> (-13.6347, -8.2157)
  line L377 (-13.6347, -8.2157) -> (-17.3951, -11.3494)
  line L378 (-17.3951, -11.3494) -> (-20.2642, -12.4973)
  line L379 (-20.2642, -12.4973) -> (-23.26, -11.7395)
  line L380 (291.6642, -20.353) -> (290.2542, -16.8733)
  line L381 (290.2542, -16.8733) -> (290.2542, -15.2472)
  line L382 (290.2542, -15.2472) -> (289.5024, -12.9328)
  line L383 (289.5024, -12.9328) -> (288.6171, -11.7144)
  line L384 (288.6171, -11.7144) -> (286.6483, -10.2838)
  line L385 (286.6483, -10.2838) -> (285.2163, -9.8185)
  line L386 (285.2163, -9.8185) -> (283.2223, -9.8185)
  line L387 (283.2223, -9.8185) -> (280.2842, -8.8638)
  line L388 (280.2842, -8.8638) -> (278.4676, -6.3635)
  line L389 (278.4676, -6.3635) -> (276.3798, 0.0633)
  line L390 (276.3798, 0.0633) -> (275.4945, 1.2818)
  line L391 (275.4945, 1.2818) -> (269.2329, 5.8314)
  line L392 (269.2329, 5.8314) -> (267.4167, 8.3313)
  line L393 (267.4167, 8.3313) -> (267.172, 9.8764)
  line L394 (267.172, 9.8764) -> (267.172, 14.1236)
  line L395 (267.172, 14.1236) -> (268.127, 17.0625)
  line L396 (268.127, 17.0625) -> (269.2328, 18.1689)
  line L397 (269.2328, 18.1689) -> (275.4945, 22.7183)
  line L398 (275.4945, 22.7183) -> (275.6475, 22.9294)
  line L399 (275.6475, 22.9294) -> (278.1475, 24.7458)
  line L400 (278.1475, 24.7458) -> (281.5445, 24.6347)
  line L401 (281.5445, 24.6347) -> (328.0966, 6.0709)
  line L402 (328.0966, 6.0709) -> (330.4726, 4.0953)
  line L403 (330.4726, 4.0953) -> (331.2446, 1.4265)
  line L404 (331.2446, 1.4265) -> (331.2446, -1.5458)
  line L405 (331.2446, -1.5458) -> (331.0404, -1.5458)
  line L406 (331.0404, -1.5458) -> (331.0403, -3.2159)
  line L407 (331.0403, -3.2159) -> (328.4843, -6.1608)
  line L408 (328.4843, -6.1608) -> (297.4542, -21.3634)
  line L409 (297.4542, -21.3634) -> (294.3952, -21.7989)
  line L410 (294.3952, -21.7989) -> (291.6642, -20.353)
  line L411 (359.132, -14.5813) -> (356.029, -11.192)
  line L412 (356.029, -11.192) -> (354.749, -8.3794)
  line L413 (354.749, -8.3794) -> (354.962, -6.271)
  line L414 (354.962, -6.271) -> (356.975, -0.0757)
  line L415 (356.975, -0.0757) -> (360.0541, 3.0895)
  line L416 (360.0541, 3.0895) -> (364.283, 4.5954)
  line L417 (364.283, 4.5954) -> (367.372, 4.6817)
  line L418 (367.372, 4.6817) -> (369.9221, 2.9359)
  line L419 (369.9221, 2.9359) -> (370.9453, -0.5069)
  line L420 (370.9453, -0.5069) -> (370.6834, -3.829)
  line L421 (370.6834, -3.829) -> (370.5603, -4.6039)
  line L422 (370.5603, -4.6039) -> (369.7559, -7.9558)
  line L423 (369.7559, -7.9558) -> (369.5128, -8.7019)
  line L424 (369.5128, -8.7019) -> (368.1937, -11.8869)
  line L425 (368.1937, -11.8869) -> (367.8377, -12.586)
  line L426 (367.8377, -12.586) -> (367.0829, -13.8177)
  line L427 (367.0829, -13.8177) -> (364.733, -15.8247)
  line L428 (364.733, -15.8247) -> (361.653, -16.0672)
  line L429 (361.653, -16.0672) -> (359.132, -14.5813)
  line L430 (49.5735, -27.0002) -> (46.6346, -26.0453)
  line L431 (46.6346, -26.0453) -> (45.7411, -25.3961)
  line L432 (45.7411, -25.3961) -> (45.5849, -25.2914)
  line L433 (45.5849, -25.2914) -> (27.9029, -14.3736)
  line L434 (27.9029, -14.3736) -> (25.9039, -12.0171)
  line L435 (25.9039, -12.0171) -> (25.6718, -8.9357)
  line L436 (25.6718, -8.9357) -> (27.2953, -6.3063)
  line L437 (27.2953, -6.3063) -> (30.963, -5.138)
  line L438 (30.963, -5.138) -> (119.04, -12.7991)
  line L439 (119.04, -12.7991) -> (121.885, -14.0051)
  line L440 (121.885, -14.0051) -> (123.478, -16.653)
  line L441 (123.478, -16.653) -> (122.6516, -20.7201)
  line L442 (122.6516, -20.7201) -> (122.4966, -20.9335)
  line L443 (122.4966, -20.9335) -> (121.6477, -23.5461)
  line L444 (121.6477, -23.5461) -> (119.831, -26.0463)
  line L445 (119.831, -26.0463) -> (116.8929, -27.0008)
  line L446 (116.8929, -27.0008) -> (49.5735, -27.0002)
  line L447 (318.7702, -26.9999) -> (315.8312, -26.0449)
  line L448 (315.8312, -26.0449) -> (314.015, -23.5451)
  line L449 (314.015, -23.5451) -> (314.015, -20.4549)
  line L450 (314.015, -20.4549) -> (316.57, -17.5099)
  line L451 (316.57, -17.5099) -> (332.0801, -9.9111)
  line L452 (332.0801, -9.9111) -> (335.1401, -9.4755)
  line L453 (335.1401, -9.4755) -> (337.2191, -10.3559)
  line L454 (337.2191, -10.3559) -> (339.342, -11.8984)
  line L455 (339.342, -11.8984) -> (340.775, -12.364)
  line L456 (340.775, -12.364) -> (348.0185, -12.3641)
  line L457 (348.0185, -12.3641) -> (348.0185, -12.5721)
  line L458 (348.0185, -12.5721) -> (349.6772, -12.5721)
  line L459 (349.6772, -12.5721) -> (351.8202, -13.9516)
  line L460 (351.8202, -13.9516) -> (354.9182, -17.3363)
  line L461 (354.9182, -17.3363) -> (356.1982, -20.149)
  line L462 (356.1982, -20.149) -> (355.5807, -23.1767)
  line L463 (355.5807, -23.1767) -> (353.1433, -25.331)
  line L464 (353.1433, -25.331) -> (352.7022, -25.5133)
  line L465 (352.7022, -25.5133) -> (351.9562, -25.7557)
  line L466 (351.9562, -25.7557) -> (348.6042, -26.5605)
  line L467 (348.6042, -26.5605) -> (347.8292, -26.6832)
  line L468 (347.8292, -26.6832) -> (343.9992, -26.9847)
  line L469 (343.9992, -26.9847) -> (343.6072, -27.0001)
  line L470 (343.6072, -27.0001) -> (318.7702, -26.9999)
  line L471 (0.3931, -26.9995) -> (0.0007, -26.9841)
  line L472 (0.0007, -26.9841) -> (-3.829, -26.6829)
  line L473 (-3.829, -26.6829) -> (-4.604, -26.5601)
  line L474 (-4.604, -26.5601) -> (-7.956, -25.7557)
  line L475 (-7.956, -25.7557) -> (-8.7022, -25.5132)
  line L476 (-8.7022, -25.5132) -> (-11.8872, -24.194)
  line L477 (-11.8872, -24.194) -> (-12.5863, -23.8378)
  line L478 (-12.5863, -23.8378) -> (-13.6874, -23.163)
  line L479 (-13.6874, -23.163) -> (-15.6943, -20.8132)
  line L480 (-15.6943, -20.8132) -> (-15.9368, -17.7326)
  line L481 (-15.9368, -17.7326) -> (-14.2769, -15.0595)
  line L482 (-14.2769, -15.0595) -> (-10.7618, -12.1303)
  line L483 (-10.7618, -12.1303) -> (-7.8927, -10.9824)
  line L484 (-7.8927, -10.9824) -> (-5.4231, -11.6954)
  line L485 (-5.4231, -11.6954) -> (-5.4099, -11.6548)
  line L486 (-5.4099, -11.6548) -> (-3.225, -12.3648)
  line L487 (-3.225, -12.3648) -> (3.2256, -12.3648)
  line L488 (3.2256, -12.3648) -> (4.6581, -11.8994)
  line L489 (4.6581, -11.8994) -> (6.5346, -10.5361)
  line L490 (6.5346, -10.5361) -> (9.4736, -9.5814)
  line L491 (9.4736, -9.5814) -> (12.1003, -10.327)
  line L492 (12.1003, -10.327) -> (24.1177, -17.7471)
  line L493 (24.1177, -17.7471) -> (26.1167, -20.1036)
  line L494 (26.1167, -20.1036) -> (26.3486, -23.1833)
  line L495 (26.3486, -23.1833) -> (24.7252, -25.8126)
  line L496 (24.7252, -25.8126) -> (21.4907, -26.9997)
  line L497 (21.4907, -26.9997) -> (0.3931, -26.9995)
  circle A0 centre (208, -8) radius 1.5
  circle A1 centre (224, -24) radius 1.5
  circle A2 centre (168, -8) radius 1.5
  circle A3 centre (184, -24) radius 1.5
  circle A4 centre (144, -24) radius 1.5
  circle A5 centre (144, -8) radius 1.5
  circle A6 centre (208, 42) radius 1.5
  circle A7 centre (176, 42) radius 1.5
  circle A8 centre (144, 42) radius 1.5
  circle A9 centre (112, 42) radius 1.5
  circle A10 centre (80, 42) radius 1.5
  circle A11 centre (48, 42) radius 1.5
  circle A12 centre (32, 42) radius 1.5
  circle A13 centre (16, 42) radius 1.5
  circle A14 centre (0, 42) radius 1.5
  circle A15 centre (284, -16) radius 1.5
  circle A16 centre (244, -16) radius 1.5
  circle A17 centre (244, 40) radius 1.5
  circle A18 centre (284, 40) radius 1.5
  circle A19 centre (64, 42) radius 1.5
  circle A20 centre (96, 42) radius 1.5
  circle A21 centre (128, 42) radius 1.5
  circle A22 centre (160, 42) radius 1.5
  circle A23 centre (192, 42) radius 1.5
  circle A24 centre (128, -8) radius 1.5
  circle A25 centre (128, -24) radius 1.5
  circle A26 centre (184, -8) radius 1.5
  circle A27 centre (168, -24) radius 1.5
  circle A28 centre (224, -8) radius 1.5
  circle A29 centre (208, -24) radius 1.5
  circle A30 centre (264, -8) radius 10
  circle A31 centre (264, 32) radius 10
  circle A32 centre (344, 0) radius 8
  circle A33 centre (0, 0) radius 8
sketch "Sketch8" plane through (0, 0, 3.175) normal (0, 0, 1) x (1, 0, 0)
  point P0 (0, 0)
equation "\"d21\" = d20"
equation "\"d32\" = 0.5 * d16"
